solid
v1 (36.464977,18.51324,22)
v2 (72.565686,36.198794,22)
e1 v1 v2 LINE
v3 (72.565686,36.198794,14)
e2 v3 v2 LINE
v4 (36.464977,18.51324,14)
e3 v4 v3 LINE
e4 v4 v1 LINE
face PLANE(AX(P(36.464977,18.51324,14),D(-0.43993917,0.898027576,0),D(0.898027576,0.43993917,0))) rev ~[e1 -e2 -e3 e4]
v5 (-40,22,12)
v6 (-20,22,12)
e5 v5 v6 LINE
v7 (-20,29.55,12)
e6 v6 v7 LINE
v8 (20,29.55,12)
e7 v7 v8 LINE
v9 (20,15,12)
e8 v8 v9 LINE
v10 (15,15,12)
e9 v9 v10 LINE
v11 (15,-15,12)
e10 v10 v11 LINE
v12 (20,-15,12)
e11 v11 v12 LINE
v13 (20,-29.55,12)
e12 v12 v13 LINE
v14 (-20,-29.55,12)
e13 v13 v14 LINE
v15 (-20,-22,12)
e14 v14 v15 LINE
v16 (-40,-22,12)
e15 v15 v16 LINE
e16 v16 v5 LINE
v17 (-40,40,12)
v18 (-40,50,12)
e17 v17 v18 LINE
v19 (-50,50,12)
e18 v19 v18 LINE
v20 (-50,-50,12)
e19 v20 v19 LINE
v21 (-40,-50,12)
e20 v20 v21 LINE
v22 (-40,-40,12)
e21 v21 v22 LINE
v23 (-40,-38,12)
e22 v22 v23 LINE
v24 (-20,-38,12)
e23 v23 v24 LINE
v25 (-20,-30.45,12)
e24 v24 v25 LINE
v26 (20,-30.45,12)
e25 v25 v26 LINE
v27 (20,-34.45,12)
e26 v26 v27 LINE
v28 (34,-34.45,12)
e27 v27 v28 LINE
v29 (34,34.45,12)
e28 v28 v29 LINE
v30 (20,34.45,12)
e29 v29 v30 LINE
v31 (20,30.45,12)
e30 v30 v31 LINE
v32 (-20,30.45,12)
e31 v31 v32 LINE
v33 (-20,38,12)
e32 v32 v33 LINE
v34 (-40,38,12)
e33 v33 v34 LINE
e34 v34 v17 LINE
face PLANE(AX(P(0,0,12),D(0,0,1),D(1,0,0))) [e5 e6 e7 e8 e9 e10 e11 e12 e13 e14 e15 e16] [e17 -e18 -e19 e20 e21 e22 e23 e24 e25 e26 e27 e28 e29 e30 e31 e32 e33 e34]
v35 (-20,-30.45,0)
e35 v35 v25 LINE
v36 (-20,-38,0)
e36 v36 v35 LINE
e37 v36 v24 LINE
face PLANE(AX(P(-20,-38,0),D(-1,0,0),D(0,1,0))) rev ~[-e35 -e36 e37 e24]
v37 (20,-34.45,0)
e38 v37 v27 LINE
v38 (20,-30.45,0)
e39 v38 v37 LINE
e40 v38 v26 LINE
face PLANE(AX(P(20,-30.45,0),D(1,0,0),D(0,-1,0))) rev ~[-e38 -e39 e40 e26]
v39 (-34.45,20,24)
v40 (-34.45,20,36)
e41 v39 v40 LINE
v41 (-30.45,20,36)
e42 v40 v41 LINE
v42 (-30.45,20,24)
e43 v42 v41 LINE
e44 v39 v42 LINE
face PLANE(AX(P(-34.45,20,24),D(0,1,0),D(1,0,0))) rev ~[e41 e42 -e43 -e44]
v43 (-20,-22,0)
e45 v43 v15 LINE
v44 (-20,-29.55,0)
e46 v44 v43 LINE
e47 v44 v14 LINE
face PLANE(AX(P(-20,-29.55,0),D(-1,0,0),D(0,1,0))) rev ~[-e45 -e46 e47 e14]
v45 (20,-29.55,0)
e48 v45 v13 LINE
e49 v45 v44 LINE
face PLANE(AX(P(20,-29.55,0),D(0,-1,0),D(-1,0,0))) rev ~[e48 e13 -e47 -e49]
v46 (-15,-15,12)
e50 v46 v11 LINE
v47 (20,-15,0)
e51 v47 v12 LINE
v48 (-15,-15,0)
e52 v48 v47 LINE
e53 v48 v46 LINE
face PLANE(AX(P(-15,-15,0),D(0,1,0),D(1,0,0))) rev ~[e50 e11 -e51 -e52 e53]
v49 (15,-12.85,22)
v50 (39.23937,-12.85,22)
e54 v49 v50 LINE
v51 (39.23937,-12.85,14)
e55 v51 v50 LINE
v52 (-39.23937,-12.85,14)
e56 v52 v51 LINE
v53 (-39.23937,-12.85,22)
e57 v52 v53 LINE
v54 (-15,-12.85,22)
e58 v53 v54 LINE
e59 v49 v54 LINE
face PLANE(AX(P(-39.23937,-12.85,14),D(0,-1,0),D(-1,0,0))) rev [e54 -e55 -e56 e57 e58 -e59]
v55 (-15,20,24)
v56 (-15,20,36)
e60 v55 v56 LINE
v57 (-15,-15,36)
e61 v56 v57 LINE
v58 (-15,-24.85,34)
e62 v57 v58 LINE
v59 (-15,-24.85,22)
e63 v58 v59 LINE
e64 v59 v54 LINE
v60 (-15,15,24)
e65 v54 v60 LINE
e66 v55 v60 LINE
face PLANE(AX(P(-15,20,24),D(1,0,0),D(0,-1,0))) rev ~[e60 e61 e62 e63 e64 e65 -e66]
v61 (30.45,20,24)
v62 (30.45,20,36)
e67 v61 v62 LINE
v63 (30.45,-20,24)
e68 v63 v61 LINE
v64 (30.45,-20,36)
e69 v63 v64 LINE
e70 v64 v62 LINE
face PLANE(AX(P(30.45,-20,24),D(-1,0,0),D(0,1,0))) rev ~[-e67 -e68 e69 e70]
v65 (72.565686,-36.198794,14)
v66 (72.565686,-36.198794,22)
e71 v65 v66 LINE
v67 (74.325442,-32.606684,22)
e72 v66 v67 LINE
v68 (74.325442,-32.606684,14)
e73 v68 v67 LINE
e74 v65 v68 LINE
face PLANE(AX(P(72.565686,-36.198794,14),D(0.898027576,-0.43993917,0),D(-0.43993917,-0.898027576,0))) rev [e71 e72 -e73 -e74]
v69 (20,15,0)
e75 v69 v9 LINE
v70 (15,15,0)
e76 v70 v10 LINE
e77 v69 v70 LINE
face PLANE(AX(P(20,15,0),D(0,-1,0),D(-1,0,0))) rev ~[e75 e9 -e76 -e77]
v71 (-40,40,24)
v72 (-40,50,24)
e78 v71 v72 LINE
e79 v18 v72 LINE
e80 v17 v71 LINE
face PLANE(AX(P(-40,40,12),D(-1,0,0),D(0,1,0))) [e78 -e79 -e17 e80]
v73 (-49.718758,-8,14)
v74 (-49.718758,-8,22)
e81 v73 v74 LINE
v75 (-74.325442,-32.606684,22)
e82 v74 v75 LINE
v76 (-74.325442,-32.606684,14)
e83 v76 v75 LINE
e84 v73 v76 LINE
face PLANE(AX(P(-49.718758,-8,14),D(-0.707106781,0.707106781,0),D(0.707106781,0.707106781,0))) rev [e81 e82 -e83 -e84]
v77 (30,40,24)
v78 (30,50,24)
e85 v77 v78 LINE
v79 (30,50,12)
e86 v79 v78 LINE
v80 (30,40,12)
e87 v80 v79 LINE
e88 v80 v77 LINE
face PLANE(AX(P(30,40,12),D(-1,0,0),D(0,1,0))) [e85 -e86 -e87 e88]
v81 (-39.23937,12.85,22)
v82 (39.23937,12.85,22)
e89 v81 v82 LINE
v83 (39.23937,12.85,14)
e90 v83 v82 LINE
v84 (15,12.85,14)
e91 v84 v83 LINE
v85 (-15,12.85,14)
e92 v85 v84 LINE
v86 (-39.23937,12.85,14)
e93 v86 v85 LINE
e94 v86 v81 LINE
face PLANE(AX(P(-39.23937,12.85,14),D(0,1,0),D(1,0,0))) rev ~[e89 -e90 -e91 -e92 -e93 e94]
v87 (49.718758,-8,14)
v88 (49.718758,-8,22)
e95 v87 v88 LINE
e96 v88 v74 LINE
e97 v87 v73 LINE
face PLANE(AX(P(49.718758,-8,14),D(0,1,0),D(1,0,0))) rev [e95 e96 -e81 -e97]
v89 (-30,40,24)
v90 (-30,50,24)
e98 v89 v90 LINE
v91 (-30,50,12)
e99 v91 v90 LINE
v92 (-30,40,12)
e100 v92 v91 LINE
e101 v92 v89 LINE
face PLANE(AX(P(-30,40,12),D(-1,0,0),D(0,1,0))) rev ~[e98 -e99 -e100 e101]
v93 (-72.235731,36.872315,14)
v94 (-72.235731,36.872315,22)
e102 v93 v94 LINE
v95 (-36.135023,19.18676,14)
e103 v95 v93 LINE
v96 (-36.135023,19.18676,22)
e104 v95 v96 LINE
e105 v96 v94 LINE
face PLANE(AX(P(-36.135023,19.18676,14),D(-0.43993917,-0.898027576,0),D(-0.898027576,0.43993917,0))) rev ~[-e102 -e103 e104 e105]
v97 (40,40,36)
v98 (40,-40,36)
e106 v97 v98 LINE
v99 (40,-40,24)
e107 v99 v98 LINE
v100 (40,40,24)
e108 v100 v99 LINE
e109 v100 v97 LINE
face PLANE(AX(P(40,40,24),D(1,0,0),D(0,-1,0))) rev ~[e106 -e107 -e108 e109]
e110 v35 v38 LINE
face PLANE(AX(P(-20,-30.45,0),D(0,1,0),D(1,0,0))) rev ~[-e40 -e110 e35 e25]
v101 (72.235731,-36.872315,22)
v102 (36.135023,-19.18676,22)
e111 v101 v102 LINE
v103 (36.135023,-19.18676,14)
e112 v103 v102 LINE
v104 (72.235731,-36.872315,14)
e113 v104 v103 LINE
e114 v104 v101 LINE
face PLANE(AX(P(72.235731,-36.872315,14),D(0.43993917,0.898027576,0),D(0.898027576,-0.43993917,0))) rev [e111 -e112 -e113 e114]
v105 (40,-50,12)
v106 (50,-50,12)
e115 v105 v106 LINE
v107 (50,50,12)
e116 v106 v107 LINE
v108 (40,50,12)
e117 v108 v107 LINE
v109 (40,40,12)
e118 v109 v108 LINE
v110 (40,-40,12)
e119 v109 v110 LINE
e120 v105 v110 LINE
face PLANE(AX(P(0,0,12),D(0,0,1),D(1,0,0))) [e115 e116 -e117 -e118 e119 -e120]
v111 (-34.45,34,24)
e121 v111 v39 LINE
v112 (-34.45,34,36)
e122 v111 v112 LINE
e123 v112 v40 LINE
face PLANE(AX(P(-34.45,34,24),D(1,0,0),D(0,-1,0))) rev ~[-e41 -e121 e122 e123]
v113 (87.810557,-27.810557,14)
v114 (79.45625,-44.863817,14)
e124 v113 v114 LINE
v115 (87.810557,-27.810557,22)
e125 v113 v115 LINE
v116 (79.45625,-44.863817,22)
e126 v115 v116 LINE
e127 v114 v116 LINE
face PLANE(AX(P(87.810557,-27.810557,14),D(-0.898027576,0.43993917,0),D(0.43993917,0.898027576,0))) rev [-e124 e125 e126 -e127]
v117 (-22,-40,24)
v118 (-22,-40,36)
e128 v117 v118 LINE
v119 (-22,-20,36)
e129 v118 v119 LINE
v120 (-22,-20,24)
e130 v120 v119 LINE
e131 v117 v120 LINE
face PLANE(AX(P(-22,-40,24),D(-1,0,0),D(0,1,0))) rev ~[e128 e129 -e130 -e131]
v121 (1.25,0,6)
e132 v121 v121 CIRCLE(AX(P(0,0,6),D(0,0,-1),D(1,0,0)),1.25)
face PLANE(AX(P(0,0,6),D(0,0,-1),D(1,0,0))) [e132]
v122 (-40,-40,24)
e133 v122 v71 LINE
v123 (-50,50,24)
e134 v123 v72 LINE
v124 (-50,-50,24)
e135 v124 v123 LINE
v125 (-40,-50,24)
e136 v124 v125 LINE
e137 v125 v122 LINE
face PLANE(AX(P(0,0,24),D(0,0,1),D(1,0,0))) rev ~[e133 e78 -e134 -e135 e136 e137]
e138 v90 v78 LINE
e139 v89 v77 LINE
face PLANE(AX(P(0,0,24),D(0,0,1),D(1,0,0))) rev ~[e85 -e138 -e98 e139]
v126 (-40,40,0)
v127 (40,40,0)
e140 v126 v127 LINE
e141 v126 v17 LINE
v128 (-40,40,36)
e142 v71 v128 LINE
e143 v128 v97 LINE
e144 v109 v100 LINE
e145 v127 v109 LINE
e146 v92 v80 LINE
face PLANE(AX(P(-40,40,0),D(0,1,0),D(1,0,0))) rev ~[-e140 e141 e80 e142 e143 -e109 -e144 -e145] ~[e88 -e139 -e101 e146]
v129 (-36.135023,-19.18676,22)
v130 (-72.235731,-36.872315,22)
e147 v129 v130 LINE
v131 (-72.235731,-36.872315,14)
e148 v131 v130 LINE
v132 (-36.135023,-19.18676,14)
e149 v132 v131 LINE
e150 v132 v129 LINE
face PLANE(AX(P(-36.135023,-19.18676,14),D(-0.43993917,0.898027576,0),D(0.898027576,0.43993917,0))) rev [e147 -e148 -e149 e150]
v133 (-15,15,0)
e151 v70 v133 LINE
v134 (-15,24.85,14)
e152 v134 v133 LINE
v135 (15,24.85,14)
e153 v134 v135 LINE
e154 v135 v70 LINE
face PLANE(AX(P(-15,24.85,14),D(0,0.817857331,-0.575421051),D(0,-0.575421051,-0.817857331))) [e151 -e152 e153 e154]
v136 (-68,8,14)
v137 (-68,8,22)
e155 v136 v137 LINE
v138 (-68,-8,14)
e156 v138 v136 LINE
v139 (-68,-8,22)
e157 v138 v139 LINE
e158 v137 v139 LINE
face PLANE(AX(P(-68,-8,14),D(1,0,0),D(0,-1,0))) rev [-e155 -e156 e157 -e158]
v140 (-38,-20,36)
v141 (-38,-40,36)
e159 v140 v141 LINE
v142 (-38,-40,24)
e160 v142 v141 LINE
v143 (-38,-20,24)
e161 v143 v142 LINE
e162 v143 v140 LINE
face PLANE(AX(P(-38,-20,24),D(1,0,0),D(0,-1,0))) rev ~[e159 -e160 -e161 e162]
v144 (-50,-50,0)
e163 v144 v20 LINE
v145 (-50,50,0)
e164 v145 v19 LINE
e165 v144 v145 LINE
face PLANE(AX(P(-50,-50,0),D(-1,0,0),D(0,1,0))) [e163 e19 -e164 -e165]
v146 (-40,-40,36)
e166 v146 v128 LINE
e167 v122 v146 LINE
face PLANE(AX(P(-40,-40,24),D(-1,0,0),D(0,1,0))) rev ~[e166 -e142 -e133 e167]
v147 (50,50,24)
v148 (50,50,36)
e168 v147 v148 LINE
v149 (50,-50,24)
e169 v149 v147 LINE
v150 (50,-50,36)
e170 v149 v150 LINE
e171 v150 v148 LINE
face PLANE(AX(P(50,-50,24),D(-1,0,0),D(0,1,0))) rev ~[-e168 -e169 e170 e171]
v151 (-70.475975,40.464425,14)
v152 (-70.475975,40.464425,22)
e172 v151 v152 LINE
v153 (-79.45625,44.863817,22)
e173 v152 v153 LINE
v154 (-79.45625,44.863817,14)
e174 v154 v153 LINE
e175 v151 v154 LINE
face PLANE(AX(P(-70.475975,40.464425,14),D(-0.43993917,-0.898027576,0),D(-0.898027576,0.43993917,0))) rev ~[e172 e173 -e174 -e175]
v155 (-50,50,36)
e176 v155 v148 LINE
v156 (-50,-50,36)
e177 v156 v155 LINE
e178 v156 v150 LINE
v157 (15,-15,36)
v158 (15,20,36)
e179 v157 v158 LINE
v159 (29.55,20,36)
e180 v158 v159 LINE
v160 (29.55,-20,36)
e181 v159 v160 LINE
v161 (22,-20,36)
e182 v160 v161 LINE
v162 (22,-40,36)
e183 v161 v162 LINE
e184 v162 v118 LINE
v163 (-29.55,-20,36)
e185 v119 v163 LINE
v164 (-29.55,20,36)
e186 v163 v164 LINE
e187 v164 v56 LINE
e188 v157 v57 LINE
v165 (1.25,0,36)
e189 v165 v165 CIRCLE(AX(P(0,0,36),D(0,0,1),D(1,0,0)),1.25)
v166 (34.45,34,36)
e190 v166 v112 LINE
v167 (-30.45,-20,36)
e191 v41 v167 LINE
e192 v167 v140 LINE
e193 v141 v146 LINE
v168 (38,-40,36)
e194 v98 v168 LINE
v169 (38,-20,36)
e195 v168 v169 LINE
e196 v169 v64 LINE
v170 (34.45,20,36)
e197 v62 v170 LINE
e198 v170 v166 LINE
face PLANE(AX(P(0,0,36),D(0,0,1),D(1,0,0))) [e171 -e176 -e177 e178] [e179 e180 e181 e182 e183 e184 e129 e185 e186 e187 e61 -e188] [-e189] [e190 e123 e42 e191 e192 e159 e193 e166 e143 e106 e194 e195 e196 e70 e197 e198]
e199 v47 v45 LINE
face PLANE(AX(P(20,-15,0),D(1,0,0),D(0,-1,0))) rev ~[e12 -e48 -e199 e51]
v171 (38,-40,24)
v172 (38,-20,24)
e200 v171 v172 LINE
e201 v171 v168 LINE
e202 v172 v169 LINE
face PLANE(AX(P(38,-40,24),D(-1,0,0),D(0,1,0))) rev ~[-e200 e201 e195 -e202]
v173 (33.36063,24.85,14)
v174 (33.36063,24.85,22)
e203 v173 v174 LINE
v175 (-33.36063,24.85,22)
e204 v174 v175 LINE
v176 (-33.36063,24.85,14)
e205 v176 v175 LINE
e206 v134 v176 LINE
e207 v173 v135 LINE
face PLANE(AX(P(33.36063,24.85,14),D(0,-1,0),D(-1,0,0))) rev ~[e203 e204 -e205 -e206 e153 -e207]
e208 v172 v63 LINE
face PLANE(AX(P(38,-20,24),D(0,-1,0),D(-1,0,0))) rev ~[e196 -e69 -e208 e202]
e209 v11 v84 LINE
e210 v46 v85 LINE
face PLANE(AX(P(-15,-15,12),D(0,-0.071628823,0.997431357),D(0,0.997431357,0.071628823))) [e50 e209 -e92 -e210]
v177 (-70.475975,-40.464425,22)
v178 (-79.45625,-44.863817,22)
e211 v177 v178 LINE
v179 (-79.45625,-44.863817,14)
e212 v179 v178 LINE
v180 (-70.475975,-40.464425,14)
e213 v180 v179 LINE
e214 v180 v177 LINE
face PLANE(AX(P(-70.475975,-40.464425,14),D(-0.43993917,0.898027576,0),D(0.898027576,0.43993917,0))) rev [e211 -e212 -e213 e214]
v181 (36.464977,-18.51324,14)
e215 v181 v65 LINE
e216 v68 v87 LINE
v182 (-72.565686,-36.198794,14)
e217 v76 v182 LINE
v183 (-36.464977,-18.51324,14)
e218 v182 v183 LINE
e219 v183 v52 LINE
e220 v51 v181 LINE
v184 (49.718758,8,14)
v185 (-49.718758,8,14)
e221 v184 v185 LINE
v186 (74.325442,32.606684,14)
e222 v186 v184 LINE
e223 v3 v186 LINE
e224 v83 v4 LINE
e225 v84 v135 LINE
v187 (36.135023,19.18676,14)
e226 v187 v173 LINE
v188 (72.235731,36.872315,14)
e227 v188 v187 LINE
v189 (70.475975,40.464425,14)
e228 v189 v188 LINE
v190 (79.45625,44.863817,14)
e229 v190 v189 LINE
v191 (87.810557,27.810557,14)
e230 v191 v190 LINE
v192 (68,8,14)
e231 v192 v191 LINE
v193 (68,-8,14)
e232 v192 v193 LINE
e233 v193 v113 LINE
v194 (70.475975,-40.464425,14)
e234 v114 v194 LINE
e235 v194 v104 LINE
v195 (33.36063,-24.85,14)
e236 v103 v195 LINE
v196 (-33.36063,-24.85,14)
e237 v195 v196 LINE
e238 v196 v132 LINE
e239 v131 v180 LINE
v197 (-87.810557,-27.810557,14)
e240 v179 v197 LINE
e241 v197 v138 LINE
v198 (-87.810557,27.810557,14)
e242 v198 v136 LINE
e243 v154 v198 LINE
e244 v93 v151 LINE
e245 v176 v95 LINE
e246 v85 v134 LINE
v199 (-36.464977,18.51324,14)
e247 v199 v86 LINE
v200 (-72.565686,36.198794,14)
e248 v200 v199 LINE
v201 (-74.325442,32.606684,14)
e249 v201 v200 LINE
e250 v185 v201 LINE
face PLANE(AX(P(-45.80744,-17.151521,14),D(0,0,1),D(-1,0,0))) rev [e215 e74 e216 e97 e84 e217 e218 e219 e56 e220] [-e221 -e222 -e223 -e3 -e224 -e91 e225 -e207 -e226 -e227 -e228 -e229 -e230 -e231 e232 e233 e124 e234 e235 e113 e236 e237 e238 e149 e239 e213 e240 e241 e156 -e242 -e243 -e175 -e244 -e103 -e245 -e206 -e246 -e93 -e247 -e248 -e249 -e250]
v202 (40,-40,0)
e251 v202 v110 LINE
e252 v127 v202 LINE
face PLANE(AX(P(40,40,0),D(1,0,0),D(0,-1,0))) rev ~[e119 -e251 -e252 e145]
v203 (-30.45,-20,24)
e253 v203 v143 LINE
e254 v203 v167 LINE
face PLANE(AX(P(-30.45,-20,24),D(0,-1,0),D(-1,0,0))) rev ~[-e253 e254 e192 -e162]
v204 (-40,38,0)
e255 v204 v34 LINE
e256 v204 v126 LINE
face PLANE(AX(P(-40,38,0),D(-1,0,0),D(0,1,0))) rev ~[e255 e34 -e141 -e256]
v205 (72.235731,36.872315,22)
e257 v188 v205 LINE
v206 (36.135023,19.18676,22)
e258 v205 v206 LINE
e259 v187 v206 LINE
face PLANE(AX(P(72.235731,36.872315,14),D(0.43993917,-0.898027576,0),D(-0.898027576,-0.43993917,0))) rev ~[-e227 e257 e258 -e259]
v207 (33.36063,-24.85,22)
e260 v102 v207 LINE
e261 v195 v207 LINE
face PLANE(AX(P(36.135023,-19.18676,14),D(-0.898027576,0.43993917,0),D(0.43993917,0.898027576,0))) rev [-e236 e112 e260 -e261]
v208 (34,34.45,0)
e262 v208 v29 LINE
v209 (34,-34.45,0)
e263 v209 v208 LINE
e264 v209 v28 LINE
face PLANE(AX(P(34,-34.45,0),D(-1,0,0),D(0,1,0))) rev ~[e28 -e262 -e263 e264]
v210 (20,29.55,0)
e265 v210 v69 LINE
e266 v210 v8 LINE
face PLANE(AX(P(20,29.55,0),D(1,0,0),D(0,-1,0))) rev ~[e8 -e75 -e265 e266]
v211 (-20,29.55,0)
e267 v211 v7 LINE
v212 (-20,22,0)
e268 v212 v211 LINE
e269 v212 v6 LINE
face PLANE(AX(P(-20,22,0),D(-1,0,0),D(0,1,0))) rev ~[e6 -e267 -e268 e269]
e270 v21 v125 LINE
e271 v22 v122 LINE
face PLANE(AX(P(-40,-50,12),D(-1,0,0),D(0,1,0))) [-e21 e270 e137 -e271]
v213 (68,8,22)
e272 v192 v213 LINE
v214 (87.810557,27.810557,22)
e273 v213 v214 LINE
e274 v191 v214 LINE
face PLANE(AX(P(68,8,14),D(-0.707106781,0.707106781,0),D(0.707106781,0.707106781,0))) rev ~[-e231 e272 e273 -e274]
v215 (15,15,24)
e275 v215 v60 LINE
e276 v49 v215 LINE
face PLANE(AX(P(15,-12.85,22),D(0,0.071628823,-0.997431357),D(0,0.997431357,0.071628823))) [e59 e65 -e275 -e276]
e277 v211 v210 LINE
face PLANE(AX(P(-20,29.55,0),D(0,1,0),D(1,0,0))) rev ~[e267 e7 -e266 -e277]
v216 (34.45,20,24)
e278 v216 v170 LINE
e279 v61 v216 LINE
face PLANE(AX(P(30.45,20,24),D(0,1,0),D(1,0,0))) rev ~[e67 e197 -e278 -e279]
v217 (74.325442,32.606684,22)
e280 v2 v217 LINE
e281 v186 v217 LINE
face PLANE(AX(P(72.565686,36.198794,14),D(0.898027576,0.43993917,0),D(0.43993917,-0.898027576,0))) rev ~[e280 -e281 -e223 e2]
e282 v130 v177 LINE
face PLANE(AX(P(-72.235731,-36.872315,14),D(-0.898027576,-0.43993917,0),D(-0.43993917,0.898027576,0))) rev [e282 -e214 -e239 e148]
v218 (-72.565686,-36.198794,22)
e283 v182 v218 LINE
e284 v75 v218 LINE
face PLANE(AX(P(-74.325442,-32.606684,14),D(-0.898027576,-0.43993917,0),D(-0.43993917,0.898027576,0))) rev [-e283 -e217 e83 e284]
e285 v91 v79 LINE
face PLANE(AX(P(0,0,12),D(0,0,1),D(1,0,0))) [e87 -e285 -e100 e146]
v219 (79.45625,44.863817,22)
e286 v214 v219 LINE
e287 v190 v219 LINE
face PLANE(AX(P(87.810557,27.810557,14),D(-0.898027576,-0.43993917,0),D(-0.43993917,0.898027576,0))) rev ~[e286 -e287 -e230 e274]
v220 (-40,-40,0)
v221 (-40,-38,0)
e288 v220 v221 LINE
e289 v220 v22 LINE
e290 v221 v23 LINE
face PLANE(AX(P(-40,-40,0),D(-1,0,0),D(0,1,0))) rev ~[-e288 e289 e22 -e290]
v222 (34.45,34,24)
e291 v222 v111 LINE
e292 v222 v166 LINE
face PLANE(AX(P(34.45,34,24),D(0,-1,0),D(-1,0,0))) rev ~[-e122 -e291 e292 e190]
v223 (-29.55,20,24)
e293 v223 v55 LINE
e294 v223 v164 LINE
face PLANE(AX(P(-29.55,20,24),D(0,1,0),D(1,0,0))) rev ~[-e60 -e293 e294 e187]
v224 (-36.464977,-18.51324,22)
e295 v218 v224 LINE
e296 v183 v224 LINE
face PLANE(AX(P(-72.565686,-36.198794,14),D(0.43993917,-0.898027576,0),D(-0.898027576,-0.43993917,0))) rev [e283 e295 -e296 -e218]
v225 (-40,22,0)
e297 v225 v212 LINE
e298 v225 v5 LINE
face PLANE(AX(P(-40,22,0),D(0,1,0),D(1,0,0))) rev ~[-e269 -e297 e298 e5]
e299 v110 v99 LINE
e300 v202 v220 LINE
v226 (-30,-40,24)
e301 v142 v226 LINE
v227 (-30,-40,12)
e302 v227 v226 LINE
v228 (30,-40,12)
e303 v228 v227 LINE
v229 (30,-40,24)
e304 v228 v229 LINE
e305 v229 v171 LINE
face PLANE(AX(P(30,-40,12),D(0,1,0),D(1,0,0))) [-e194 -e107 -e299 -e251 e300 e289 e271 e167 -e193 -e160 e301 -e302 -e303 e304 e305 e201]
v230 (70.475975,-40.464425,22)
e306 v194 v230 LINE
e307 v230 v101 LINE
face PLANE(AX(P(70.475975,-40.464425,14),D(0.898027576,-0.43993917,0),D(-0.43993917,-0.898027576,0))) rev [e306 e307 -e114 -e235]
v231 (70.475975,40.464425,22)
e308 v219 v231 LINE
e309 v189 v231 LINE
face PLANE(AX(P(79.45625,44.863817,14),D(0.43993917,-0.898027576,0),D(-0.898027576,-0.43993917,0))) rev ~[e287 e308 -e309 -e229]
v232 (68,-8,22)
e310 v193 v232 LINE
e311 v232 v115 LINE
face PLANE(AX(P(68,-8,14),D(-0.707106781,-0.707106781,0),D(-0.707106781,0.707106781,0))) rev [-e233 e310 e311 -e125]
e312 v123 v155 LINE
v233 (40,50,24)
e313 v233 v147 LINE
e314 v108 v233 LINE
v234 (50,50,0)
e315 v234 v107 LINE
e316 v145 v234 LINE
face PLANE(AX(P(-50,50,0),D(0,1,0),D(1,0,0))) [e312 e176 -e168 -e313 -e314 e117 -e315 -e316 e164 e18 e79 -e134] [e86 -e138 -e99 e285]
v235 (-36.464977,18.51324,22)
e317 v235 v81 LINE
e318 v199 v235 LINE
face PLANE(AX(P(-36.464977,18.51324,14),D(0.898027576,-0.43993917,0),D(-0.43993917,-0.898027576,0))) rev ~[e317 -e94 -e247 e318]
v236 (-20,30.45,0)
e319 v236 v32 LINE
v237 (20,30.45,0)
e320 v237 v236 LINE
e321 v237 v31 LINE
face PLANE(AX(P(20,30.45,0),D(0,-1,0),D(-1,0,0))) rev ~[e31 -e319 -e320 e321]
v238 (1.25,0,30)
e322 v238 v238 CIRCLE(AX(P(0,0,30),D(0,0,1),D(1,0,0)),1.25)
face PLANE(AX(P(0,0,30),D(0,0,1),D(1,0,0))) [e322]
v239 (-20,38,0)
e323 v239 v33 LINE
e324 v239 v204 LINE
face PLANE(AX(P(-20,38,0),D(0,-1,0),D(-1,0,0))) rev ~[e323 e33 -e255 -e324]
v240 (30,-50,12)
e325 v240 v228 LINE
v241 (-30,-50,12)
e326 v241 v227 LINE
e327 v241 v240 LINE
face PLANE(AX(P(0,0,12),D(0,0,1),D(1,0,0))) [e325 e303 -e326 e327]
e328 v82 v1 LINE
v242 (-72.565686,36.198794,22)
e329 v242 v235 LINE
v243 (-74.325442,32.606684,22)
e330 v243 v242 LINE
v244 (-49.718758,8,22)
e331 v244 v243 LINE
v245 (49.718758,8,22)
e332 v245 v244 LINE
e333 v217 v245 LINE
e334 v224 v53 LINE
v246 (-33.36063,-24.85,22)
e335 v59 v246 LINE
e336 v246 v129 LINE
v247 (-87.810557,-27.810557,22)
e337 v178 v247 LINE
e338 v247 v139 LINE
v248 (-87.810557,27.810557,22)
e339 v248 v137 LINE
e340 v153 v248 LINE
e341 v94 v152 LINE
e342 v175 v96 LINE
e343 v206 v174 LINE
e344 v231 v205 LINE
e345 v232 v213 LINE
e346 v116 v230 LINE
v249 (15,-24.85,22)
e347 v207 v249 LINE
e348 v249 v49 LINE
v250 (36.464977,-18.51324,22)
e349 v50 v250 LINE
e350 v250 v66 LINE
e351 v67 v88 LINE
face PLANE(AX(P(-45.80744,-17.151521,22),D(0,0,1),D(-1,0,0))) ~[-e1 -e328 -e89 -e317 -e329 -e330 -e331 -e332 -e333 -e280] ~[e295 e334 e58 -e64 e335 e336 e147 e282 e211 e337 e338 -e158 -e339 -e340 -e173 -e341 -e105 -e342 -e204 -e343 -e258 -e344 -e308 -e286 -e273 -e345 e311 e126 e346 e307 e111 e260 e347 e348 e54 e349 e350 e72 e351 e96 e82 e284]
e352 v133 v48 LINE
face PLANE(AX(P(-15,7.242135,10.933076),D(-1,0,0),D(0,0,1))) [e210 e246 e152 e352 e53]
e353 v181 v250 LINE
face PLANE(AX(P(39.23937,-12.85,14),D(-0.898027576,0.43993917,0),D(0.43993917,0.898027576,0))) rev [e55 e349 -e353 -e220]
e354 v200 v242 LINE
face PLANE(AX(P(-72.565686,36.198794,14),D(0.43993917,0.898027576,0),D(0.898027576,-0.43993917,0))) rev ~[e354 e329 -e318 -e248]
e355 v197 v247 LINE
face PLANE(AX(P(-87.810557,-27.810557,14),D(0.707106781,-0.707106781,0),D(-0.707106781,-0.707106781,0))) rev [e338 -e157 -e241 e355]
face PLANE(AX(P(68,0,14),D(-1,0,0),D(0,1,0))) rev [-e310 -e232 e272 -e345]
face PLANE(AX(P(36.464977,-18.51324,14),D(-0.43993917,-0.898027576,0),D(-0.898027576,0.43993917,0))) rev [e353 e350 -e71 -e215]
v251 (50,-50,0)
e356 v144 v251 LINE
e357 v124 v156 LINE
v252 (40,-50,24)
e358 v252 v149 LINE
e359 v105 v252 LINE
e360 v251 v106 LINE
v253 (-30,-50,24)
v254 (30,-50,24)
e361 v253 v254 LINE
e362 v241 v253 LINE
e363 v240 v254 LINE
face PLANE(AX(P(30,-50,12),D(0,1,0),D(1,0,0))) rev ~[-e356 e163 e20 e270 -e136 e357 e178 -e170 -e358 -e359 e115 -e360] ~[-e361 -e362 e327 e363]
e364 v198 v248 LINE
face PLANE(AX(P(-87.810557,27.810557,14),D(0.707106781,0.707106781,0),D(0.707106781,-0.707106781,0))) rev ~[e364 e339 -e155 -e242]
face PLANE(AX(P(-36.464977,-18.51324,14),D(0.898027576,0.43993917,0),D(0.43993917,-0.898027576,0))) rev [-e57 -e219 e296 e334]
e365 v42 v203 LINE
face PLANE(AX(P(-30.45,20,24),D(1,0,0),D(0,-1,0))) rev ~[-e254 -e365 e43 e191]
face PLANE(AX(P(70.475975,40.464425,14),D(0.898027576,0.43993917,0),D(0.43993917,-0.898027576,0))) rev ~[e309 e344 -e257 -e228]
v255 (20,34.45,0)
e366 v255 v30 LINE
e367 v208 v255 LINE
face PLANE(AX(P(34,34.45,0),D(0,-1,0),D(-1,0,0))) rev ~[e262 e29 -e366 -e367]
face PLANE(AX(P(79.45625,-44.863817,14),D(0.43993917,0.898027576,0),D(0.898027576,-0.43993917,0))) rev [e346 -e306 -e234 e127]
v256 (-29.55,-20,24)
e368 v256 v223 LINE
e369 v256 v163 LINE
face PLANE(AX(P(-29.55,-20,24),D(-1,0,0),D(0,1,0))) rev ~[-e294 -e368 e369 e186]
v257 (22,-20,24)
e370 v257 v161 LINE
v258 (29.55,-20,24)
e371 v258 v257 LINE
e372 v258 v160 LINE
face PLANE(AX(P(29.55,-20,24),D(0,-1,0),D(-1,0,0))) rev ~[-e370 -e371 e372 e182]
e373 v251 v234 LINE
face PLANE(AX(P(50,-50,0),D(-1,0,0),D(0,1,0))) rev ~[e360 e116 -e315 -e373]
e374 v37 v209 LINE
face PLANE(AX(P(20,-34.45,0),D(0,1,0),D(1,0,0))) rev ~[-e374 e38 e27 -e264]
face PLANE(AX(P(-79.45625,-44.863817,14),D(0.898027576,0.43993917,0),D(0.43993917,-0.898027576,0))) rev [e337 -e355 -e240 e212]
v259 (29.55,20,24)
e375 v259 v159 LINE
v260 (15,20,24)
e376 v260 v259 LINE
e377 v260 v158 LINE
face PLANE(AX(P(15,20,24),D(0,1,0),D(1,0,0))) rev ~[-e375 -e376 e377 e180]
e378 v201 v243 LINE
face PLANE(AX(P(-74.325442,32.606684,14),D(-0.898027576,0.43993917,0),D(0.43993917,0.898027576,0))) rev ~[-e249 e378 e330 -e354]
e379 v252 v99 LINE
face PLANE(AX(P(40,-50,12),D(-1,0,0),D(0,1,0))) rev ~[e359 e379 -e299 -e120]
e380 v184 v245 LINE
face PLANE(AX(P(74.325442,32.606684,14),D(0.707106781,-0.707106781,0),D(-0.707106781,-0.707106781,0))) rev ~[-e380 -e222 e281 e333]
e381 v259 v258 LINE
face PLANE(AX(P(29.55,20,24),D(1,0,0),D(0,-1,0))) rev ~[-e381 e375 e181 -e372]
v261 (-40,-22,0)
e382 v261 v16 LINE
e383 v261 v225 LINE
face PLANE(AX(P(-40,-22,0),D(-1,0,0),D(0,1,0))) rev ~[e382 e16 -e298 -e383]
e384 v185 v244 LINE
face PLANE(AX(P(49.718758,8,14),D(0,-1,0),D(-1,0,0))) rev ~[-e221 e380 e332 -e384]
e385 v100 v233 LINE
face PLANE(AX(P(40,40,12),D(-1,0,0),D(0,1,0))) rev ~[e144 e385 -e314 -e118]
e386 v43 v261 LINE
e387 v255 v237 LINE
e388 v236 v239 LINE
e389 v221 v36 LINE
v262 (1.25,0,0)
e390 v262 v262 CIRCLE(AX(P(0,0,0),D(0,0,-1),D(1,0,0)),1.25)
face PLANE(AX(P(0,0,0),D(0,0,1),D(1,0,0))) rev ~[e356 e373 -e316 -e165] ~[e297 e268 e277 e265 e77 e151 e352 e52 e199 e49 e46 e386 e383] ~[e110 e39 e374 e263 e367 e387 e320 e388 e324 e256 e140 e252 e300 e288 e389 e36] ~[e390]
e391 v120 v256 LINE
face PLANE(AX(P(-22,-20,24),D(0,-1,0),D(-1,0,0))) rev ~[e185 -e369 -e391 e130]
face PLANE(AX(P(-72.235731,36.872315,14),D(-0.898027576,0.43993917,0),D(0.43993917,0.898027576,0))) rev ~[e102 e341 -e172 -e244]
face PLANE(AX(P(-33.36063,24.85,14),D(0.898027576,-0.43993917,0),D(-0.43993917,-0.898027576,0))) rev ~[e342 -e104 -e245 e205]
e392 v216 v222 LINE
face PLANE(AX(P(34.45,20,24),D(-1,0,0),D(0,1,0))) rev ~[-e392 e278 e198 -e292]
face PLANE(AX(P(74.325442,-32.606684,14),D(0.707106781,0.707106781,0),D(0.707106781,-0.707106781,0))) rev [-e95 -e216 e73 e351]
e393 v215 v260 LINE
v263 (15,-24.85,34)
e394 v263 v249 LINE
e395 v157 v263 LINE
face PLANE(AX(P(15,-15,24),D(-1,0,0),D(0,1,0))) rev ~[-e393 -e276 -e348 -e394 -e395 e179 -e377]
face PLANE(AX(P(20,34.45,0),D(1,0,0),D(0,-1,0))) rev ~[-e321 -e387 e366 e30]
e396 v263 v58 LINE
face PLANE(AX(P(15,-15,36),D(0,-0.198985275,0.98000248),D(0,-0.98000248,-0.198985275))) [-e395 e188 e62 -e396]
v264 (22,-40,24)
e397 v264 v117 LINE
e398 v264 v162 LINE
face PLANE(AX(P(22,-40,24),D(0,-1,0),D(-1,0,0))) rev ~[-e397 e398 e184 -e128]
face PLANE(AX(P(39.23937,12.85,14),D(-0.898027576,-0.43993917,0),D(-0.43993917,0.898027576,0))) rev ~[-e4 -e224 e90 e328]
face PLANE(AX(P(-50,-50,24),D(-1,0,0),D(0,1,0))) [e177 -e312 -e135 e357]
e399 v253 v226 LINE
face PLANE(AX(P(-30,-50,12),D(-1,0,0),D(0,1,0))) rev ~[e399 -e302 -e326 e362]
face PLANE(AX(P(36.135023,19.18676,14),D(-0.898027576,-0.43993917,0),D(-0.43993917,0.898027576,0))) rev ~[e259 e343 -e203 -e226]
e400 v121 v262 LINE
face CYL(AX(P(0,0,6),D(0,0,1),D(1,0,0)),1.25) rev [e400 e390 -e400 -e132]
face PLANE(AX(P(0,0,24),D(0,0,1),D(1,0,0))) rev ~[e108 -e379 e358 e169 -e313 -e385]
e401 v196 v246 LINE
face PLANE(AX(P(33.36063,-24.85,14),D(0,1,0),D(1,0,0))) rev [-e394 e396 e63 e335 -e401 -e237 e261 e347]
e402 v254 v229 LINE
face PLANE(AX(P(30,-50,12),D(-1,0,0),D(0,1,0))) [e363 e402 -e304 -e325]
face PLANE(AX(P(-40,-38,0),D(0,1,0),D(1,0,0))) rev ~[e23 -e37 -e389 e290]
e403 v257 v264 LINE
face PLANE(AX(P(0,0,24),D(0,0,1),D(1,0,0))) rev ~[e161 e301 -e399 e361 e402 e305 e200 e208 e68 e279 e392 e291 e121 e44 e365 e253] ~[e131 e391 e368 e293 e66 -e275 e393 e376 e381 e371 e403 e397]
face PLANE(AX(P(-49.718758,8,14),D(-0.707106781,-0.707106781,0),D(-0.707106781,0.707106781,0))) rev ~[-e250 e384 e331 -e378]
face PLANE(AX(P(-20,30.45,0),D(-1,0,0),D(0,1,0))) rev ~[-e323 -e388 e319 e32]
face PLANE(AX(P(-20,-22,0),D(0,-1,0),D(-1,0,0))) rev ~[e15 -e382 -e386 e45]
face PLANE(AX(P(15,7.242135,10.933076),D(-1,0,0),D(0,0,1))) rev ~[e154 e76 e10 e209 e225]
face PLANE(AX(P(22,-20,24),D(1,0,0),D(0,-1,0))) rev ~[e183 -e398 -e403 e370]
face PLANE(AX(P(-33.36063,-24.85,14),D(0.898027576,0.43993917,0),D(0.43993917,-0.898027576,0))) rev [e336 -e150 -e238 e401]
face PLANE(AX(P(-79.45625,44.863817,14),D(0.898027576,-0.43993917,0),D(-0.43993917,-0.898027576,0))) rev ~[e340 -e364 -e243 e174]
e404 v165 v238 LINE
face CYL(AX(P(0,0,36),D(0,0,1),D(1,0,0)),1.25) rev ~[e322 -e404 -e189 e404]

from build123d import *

# Parameters (mm, degrees)
SKETCH1_W           = 100
SKETCH1_H           = 100
BOSS_EXTRUDE1_DEPTH = 12
BOSS_EXTRUDE2_DEPTH = 30
BOSS_EXTRUDE3_DEPTH = 8
BOSS_EXTRUDE4_DEPTH = 30
SKETCH8_W           = 100
SKETCH8_H           = 100
BOSS_EXTRUDE5_DEPTH = 12
SKETCH9_W           = 10
SKETCH9_H           = 10
BOSS_EXTRUDE6_DEPTH = 12
SKETCH19_R          = 1.25
CUT_EXTRUDE3_DEPTH  = 6
CUT_EXTRUDE4_START  = -6
SKETCH20_R          = 1.25
CUT_EXTRUDE4_DEPTH  = 6


with BuildPart() as part:
    # Sketch1 → Boss-Extrude1 (new body)
    with BuildSketch(Plane.XY):
        Rectangle(SKETCH1_W, SKETCH1_H)
        Polygon((-20, -38), (-20, -30.45), (20, -30.45), (20, -34.45), (34, -34.45), (34, 34.45), (20, 34.45), (20, 30.45), (-20, 30.45), (-20, 38), (-40, 38), (-40, 40), (40, 40), (40, -40), (-40, -40), (-40, -38), align=None, mode=Mode.SUBTRACT)
        Polygon((-20, -29.55), (-20, -22), (-40, -22), (-40, 22), (-20, 22), (-20, 29.55), (20, 29.55), (20, 15), (-15, 15), (-15, -15), (20, -15), (20, -29.55), align=None, mode=Mode.SUBTRACT)
    extrude(amount=BOSS_EXTRUDE1_DEPTH)

    # Sketch3 → Boss-Extrude2 (add)
    with BuildSketch(Plane.ZY.offset(15)):
        Polygon((14, 12.85), (14, 24.85), (0, 15), (12, 15), (12, -15), align=None)
    extrude(amount=-BOSS_EXTRUDE2_DEPTH)

    # Sketch4 → Boss-Extrude3 (add)
    with BuildSketch(Plane.XY.offset(14)):
        Polygon((-15, 12.85), (-15, 24.85), (-33.36063033, 24.85), (-36.135022811, 19.186760341), (-72.235731357, 36.872314969), (-70.475974677, 40.464425272), (-79.456250435, 44.863816971), (-87.810556524, 27.810556524), (-68, 8), (-68, 0), (-60, 0), (0, 0), (0, 8), (-49.718758429, 8), (-74.325442414, 32.606683984), (-72.565685734, 36.198794287), (-36.464977189, 18.513239659), (-39.23936967, 12.85), align=None)
        Polygon((15, 24.85), (15, 12.85), (39.23936967, 12.85), (36.464977189, 18.513239659), (72.565685734, 36.198794287), (74.325442414, 32.606683984), (49.718758429, 8), (0, 8), (0, 0), (60, 0), (68, 0), (68, 8), (87.810556524, 27.810556524), (79.456250435, 44.863816971), (70.475974677, 40.464425272), (72.235731357, 36.872314969), (36.135022811, 19.186760341), (33.36063033, 24.85), align=None)
        Polygon((6, 24.85), (0, 24.85), (0, 12.85), (15, 12.85), (15, 24.85), align=None)
        Polygon((0, 24.85), (-6, 24.85), (-15, 24.85), (-15, 12.85), (0, 12.85), align=None)
    boss_extrude3 = extrude(amount=BOSS_EXTRUDE3_DEPTH)

    # Mirror6: Boss-Extrude3 across plane
    add(boss_extrude3.mirror(Plane(origin=(0, 0, 22), x_dir=(0, 0, 1), z_dir=(0, 1, 0))))

    # Sketch7 → Boss-Extrude4 (add)
    with BuildSketch(Plane(origin=(15, 0, 0), x_dir=(0, -1, 0), z_dir=(-1, 0, 0))):
        Polygon((24.85, 22), (12.85, 22), (-15, 24), (15, 24), (15, 36), (24.85, 34), align=None)
    extrude(amount=BOSS_EXTRUDE4_DEPTH)

    # Sketch8 → Boss-Extrude5 (add)
    with BuildSketch(Plane.XY.offset(24)):
        Rectangle(SKETCH8_W, SKETCH8_H)
        Polygon((15, -15), (15, 20), (29.55, 20), (29.55, -20), (22, -20), (22, -40), (-22, -40), (-22, -20), (-29.55, -20), (-29.55, 20), (-15, 20), (-15, -15), align=None, mode=Mode.SUBTRACT)
        Polygon((38, -20), (30.45, -20), (30.45, 20), (34.45, 20), (34.45, 34), (-34.45, 34), (-34.45, 20), (-30.45, 20), (-30.45, -20), (-38, -20), (-38, -40), (-40, -40), (-40, 40), (40, 40), (40, -40), (38, -40), align=None, mode=Mode.SUBTRACT)
    extrude(amount=BOSS_EXTRUDE5_DEPTH)

    # Sketch9 → Boss-Extrude6 (add)
    with BuildSketch(Plane.XY.offset(12)):
        with Locations((35, -45)):
            Rectangle(SKETCH9_W, SKETCH9_H)
        with Locations((-35, -45)):
            Rectangle(SKETCH9_W, SKETCH9_H)
        with Locations((-35, 45)):
            Rectangle(SKETCH9_W, SKETCH9_H)
        with Locations((35, 45)):
            Rectangle(SKETCH9_W, SKETCH9_H)
    extrude(amount=BOSS_EXTRUDE6_DEPTH)

    # Sketch19 → Cut-Extrude3 (cut)
    with BuildSketch(Plane.XY.offset(36)):
        Circle(SKETCH19_R)
    extrude(amount=-CUT_EXTRUDE3_DEPTH, mode=Mode.SUBTRACT)

    # Sketch20 → Cut-Extrude4 (cut)
    with BuildSketch(Plane(origin=(0, 0, 0), x_dir=(-1, 0, 0), z_dir=(0, 0, -1)).offset(CUT_EXTRUDE4_START)):
        with Locations(Location((0, 0, 0), (0, 0, 180))):
            Circle(SKETCH20_R)
    extrude(amount=CUT_EXTRUDE4_DEPTH, mode=Mode.SUBTRACT)


solid = part.part
